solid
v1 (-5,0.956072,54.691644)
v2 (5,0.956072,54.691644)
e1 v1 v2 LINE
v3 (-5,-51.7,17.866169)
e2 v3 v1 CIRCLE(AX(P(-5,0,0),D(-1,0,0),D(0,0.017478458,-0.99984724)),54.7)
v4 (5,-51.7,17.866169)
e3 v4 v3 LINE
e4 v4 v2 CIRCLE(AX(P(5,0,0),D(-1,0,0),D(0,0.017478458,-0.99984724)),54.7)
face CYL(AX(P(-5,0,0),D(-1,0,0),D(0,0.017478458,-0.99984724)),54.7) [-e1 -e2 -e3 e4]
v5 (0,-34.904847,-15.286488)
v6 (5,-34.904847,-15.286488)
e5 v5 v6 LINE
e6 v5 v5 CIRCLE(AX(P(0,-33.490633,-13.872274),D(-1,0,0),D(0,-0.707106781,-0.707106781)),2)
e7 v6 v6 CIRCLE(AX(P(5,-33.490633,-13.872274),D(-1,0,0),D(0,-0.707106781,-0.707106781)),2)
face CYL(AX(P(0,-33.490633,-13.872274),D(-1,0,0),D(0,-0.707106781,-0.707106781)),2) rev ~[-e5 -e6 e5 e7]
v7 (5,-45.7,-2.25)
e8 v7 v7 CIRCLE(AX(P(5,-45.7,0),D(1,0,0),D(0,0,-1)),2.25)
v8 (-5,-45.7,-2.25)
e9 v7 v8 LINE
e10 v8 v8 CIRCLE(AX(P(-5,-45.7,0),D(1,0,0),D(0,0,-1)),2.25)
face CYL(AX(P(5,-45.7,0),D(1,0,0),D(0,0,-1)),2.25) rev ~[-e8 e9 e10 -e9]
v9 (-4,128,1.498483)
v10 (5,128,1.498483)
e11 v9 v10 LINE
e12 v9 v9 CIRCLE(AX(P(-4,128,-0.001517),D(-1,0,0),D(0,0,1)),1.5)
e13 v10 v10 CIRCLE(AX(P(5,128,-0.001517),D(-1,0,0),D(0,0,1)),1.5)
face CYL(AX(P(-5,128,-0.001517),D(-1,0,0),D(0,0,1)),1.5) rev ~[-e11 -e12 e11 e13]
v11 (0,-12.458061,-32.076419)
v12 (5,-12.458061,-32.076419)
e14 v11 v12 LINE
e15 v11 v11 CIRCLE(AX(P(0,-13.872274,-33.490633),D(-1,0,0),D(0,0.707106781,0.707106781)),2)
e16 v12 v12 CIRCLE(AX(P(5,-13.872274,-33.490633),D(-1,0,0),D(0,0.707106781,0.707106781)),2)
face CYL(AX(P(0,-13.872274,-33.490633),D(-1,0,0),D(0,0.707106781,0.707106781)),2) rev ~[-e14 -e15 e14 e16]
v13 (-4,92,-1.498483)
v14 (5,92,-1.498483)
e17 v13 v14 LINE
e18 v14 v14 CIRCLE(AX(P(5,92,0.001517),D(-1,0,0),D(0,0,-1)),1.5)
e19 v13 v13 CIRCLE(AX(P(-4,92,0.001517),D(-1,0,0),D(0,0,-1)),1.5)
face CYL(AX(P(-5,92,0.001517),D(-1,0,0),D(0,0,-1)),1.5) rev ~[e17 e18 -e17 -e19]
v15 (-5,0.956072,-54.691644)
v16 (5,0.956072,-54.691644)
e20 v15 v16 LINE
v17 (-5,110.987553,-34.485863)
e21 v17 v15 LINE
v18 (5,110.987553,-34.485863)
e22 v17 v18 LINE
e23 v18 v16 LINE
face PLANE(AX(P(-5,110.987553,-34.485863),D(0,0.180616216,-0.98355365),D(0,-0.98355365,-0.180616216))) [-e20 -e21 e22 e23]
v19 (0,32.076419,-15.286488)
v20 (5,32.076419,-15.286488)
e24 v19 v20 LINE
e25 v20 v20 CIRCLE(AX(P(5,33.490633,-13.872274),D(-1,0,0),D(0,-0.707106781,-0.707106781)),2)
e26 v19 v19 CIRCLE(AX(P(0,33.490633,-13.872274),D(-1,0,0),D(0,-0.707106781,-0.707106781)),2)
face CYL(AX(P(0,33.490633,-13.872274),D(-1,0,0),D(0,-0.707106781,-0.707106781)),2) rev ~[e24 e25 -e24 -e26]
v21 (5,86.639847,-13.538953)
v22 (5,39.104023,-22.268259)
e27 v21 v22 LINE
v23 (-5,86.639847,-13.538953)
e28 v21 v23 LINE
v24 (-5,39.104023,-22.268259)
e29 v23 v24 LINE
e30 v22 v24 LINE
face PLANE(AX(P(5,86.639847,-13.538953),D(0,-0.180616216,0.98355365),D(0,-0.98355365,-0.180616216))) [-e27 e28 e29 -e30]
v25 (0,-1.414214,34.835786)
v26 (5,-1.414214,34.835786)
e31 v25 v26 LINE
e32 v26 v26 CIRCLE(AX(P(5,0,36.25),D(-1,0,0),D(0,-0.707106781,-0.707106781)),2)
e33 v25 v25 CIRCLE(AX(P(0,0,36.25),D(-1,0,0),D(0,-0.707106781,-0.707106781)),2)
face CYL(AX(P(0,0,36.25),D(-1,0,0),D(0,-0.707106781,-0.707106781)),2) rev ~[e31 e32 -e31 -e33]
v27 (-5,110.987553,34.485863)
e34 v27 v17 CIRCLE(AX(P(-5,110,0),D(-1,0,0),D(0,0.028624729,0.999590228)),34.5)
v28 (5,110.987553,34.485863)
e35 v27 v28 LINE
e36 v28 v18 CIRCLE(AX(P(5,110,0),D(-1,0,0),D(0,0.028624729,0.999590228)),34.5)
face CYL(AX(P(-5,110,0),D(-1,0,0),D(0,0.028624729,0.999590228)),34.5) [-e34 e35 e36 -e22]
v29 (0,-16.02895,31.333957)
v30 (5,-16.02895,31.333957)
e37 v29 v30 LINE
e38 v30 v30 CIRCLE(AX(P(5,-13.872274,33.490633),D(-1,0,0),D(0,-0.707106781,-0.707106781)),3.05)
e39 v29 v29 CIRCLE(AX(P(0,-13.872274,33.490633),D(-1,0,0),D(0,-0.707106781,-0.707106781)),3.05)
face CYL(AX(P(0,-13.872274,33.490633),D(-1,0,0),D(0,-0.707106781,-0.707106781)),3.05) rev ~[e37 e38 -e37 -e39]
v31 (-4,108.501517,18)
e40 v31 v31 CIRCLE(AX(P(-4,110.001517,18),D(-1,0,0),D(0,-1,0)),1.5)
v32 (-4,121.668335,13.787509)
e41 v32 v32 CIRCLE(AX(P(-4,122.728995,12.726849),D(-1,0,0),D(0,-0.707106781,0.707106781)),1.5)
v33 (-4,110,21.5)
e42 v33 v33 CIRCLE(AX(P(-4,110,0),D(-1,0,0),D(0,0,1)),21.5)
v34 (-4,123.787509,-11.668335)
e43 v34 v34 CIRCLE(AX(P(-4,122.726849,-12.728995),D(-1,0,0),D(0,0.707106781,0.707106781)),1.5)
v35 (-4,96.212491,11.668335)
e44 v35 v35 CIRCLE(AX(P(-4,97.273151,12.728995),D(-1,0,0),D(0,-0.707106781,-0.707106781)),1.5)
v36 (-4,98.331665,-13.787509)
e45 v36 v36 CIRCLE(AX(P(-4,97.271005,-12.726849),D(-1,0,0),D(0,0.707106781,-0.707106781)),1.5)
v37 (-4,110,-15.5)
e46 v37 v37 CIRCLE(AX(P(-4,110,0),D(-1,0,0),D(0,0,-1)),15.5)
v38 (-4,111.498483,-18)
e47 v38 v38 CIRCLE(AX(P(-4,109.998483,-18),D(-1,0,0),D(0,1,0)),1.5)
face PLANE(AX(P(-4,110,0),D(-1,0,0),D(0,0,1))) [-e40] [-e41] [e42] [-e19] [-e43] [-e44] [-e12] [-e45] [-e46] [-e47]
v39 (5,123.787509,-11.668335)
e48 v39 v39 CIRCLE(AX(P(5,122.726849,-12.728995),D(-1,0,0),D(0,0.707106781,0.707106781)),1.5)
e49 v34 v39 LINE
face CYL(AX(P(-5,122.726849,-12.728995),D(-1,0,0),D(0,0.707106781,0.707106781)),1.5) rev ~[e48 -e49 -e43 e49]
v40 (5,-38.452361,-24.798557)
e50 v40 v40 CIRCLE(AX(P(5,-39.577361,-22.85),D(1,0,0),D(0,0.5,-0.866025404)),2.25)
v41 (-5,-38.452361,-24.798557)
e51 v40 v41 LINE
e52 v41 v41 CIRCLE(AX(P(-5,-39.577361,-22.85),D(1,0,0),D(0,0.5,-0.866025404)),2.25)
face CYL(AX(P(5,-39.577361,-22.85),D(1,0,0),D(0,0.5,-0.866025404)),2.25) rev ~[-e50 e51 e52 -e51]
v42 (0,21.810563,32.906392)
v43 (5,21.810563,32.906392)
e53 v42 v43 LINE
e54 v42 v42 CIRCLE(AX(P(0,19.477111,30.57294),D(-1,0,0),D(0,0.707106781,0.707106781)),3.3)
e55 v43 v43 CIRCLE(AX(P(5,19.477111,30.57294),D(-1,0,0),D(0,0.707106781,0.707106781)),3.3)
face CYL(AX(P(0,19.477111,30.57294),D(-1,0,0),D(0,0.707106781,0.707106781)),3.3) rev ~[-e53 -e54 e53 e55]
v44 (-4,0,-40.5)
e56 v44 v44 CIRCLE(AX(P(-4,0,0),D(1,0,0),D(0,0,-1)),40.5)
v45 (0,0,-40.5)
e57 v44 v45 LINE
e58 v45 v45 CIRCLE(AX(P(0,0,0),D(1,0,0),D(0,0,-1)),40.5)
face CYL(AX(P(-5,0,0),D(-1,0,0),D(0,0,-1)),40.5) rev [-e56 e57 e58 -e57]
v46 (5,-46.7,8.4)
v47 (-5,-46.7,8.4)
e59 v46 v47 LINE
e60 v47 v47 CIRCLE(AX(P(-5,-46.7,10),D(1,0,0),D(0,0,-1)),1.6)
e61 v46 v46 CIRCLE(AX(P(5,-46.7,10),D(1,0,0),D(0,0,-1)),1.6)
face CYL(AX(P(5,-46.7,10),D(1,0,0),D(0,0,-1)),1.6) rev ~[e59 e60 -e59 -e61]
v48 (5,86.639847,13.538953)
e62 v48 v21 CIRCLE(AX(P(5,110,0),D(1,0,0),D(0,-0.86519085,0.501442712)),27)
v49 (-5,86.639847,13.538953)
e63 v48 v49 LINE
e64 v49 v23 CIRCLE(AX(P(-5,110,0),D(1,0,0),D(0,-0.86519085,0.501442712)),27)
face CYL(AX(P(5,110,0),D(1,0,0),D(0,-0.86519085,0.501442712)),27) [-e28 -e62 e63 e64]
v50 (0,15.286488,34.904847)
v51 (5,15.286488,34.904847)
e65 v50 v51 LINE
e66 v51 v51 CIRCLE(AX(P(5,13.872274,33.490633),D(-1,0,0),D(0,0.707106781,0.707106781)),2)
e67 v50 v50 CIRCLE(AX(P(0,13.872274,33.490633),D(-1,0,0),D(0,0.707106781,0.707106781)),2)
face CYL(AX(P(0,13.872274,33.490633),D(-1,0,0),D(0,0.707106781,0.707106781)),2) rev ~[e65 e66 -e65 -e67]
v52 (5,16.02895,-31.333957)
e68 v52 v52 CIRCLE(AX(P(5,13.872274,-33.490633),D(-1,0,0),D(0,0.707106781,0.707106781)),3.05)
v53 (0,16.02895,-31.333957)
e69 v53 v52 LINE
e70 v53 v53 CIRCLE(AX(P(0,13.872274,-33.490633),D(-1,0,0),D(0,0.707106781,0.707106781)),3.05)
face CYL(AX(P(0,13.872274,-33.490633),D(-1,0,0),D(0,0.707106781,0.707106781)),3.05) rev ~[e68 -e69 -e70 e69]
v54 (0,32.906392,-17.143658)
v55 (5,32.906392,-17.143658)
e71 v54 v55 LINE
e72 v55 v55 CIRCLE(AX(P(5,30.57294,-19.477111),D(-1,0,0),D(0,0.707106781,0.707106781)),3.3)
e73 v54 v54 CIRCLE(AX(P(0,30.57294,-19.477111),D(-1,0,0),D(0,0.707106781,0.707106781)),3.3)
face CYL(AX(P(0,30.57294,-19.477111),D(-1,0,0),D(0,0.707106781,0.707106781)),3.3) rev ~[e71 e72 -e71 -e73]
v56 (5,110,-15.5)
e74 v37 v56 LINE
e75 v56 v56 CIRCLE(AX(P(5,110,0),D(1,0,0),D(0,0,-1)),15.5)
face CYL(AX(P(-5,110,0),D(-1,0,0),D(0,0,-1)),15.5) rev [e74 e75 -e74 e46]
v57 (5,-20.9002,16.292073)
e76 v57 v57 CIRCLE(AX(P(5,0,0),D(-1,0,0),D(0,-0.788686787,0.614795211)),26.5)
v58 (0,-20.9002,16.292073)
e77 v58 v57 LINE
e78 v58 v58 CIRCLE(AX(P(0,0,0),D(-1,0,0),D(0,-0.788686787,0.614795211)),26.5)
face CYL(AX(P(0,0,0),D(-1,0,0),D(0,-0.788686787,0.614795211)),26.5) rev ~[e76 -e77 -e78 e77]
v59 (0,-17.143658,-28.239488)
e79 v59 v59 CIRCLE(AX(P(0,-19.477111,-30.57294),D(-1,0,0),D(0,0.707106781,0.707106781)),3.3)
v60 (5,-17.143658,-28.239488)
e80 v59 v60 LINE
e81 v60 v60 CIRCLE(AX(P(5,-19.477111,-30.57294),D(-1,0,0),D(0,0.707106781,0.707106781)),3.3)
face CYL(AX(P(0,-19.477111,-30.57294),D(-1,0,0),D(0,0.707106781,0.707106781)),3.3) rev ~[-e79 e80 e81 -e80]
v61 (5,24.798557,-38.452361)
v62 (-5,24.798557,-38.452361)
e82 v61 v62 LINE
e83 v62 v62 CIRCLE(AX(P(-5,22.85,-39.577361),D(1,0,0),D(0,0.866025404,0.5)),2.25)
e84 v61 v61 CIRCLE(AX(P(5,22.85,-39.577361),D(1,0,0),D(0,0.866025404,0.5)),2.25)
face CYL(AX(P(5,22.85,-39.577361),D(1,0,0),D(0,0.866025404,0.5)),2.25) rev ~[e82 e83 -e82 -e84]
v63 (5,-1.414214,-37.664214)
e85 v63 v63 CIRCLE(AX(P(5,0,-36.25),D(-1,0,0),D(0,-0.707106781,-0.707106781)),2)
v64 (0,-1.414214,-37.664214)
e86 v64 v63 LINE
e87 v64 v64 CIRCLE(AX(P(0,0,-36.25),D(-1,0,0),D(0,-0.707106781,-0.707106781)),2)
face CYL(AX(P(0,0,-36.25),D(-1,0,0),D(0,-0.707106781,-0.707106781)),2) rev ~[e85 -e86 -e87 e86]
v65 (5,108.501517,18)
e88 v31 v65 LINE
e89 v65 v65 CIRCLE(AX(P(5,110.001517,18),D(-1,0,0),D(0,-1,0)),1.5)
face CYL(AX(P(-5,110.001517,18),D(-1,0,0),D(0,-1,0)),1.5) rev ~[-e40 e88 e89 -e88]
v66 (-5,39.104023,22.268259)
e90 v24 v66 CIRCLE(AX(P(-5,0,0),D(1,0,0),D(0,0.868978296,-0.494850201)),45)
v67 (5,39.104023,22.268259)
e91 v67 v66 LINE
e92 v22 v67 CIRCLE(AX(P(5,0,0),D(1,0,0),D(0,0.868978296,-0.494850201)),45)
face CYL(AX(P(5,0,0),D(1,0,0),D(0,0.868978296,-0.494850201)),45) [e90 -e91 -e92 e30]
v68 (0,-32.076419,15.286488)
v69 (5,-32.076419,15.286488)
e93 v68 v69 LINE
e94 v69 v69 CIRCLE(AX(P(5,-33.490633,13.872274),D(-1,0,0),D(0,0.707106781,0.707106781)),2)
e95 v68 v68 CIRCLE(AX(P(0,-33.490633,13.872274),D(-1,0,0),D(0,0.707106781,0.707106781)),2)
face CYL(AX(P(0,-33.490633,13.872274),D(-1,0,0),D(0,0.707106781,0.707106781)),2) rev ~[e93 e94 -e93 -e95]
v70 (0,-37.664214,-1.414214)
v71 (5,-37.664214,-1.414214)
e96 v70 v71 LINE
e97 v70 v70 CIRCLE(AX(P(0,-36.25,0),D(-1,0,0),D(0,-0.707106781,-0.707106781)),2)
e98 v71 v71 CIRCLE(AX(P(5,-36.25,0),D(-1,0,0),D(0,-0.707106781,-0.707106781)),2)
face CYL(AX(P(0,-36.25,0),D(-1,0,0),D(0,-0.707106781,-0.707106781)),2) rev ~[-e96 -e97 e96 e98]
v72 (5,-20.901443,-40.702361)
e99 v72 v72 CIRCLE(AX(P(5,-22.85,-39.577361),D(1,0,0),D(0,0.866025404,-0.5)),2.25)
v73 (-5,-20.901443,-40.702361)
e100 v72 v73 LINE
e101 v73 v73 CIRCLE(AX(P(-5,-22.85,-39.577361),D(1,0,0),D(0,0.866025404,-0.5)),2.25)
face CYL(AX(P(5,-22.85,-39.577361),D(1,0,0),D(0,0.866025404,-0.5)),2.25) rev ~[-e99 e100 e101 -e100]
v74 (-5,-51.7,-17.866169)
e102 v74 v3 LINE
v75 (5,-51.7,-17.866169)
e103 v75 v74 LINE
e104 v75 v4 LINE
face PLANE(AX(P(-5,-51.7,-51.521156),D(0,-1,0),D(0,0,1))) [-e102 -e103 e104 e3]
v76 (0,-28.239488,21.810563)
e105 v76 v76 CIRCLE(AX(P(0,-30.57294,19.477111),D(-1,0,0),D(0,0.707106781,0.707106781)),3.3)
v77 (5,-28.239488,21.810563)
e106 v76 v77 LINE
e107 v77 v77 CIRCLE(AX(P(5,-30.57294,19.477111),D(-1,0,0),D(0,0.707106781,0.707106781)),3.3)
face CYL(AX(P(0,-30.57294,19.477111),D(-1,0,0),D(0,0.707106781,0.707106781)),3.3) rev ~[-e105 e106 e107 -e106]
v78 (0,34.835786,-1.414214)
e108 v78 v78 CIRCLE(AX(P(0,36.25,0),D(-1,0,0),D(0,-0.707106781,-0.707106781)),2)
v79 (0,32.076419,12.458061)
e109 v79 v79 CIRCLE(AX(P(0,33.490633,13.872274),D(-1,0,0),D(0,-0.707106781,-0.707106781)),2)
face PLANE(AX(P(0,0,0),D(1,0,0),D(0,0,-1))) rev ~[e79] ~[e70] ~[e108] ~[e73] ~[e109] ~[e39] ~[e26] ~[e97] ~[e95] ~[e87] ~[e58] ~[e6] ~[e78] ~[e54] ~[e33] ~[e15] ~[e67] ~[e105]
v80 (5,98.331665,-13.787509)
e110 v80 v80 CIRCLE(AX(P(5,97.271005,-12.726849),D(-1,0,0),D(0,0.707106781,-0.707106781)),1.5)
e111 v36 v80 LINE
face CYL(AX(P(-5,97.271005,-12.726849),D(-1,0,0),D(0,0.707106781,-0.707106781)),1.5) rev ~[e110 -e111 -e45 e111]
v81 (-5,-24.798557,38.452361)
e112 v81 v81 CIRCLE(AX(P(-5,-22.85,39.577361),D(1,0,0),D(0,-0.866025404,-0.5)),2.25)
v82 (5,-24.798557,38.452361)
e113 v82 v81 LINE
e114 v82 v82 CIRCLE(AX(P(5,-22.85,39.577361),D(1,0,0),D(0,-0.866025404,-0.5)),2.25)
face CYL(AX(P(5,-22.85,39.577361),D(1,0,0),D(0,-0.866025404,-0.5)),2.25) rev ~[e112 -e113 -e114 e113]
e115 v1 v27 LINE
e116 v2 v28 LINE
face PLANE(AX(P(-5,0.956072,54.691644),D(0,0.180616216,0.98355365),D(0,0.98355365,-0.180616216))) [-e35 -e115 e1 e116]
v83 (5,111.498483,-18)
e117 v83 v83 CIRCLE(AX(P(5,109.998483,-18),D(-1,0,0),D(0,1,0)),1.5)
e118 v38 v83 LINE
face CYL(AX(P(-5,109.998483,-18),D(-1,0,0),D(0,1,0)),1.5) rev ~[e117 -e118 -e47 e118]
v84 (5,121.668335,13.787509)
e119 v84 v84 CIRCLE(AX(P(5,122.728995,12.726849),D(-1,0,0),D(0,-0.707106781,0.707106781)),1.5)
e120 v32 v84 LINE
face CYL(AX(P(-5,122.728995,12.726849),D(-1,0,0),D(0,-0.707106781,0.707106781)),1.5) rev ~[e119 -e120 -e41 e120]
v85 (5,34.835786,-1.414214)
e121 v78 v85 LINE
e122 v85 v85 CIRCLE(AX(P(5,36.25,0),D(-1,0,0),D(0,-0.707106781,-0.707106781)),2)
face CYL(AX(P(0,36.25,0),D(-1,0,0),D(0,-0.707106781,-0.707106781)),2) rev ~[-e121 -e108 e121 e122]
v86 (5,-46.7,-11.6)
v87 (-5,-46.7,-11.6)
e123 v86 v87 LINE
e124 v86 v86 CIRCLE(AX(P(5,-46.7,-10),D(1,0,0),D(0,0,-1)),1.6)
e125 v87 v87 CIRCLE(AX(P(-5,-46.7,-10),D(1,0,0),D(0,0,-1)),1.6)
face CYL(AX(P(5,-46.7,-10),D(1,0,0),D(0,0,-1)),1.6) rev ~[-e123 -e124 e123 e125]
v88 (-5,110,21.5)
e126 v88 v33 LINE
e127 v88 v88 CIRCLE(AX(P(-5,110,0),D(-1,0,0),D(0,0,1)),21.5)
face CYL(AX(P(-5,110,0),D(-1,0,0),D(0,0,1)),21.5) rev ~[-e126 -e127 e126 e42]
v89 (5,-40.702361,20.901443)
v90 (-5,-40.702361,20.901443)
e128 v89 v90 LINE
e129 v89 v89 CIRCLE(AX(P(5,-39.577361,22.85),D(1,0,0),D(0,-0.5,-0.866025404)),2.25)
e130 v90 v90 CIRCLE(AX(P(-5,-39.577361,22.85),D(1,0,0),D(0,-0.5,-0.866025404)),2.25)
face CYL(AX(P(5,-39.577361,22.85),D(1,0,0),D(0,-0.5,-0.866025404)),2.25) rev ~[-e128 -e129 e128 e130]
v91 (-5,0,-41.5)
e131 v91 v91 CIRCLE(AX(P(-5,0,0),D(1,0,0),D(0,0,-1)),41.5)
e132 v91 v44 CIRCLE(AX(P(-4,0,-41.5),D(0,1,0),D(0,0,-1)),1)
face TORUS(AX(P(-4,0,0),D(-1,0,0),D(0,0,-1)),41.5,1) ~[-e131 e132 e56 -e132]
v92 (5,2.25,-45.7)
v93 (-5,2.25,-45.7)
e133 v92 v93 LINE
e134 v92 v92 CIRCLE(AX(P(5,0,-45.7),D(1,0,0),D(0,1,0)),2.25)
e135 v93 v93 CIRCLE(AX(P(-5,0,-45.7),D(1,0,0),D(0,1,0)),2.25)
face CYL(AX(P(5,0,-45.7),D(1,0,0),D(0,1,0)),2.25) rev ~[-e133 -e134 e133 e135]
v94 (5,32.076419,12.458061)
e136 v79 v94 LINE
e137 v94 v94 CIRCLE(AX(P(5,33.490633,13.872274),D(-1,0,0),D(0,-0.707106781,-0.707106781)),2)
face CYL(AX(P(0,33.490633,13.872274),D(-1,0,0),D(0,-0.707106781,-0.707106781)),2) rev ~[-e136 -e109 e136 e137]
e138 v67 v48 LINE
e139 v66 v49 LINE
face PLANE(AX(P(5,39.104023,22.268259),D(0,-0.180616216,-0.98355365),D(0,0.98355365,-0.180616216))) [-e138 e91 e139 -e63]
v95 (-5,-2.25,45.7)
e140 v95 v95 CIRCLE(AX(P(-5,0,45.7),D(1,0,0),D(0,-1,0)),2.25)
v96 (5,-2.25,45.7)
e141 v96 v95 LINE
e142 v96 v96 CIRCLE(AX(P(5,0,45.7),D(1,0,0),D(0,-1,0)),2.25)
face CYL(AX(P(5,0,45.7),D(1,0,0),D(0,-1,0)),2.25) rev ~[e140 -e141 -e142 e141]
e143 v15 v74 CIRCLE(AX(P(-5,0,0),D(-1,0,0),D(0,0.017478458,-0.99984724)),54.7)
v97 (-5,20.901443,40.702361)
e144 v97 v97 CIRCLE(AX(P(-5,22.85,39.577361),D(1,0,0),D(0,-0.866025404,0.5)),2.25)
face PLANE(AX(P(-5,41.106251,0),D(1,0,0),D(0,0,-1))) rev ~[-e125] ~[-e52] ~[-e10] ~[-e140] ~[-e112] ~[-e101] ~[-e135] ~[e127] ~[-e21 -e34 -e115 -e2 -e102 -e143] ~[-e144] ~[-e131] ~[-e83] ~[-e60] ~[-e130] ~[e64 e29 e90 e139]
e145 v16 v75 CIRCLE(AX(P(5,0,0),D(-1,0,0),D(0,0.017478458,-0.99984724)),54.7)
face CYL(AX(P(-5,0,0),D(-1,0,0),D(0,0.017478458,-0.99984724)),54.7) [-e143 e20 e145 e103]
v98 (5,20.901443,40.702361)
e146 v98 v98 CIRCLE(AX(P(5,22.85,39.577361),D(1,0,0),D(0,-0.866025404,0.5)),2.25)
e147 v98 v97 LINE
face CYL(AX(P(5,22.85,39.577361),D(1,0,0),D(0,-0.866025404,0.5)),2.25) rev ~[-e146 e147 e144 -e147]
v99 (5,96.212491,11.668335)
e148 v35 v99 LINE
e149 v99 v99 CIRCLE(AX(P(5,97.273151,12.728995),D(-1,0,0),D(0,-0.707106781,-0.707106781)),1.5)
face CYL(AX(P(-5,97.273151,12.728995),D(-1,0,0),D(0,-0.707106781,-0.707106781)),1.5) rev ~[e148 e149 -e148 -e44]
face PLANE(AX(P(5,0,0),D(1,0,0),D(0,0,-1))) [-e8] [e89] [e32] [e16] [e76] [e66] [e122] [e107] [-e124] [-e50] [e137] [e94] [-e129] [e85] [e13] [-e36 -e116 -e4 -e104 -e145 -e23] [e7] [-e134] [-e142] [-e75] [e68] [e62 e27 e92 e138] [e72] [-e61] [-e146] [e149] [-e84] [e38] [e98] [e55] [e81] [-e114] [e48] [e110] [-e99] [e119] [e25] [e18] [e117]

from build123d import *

# Parameters (mm, degrees)
SKETCH2_R                       = 40.5
SKETCH2_R_2                     = 15.5
BOSS_EXTRUDE1_DEPTH             = 5
BOSS_EXTRUDE2_START             = -5
SKETCH2_5_R                     = 40.5
SKETCH2_5_R_2                   = 15.5
BOSS_EXTRUDE2_DEPTH             = 5
FILLET3_R                       = 1
SKETCH12_R                      = 1.5
CUT_EXTRUDE12_DEPTH             = 191.422110061
CIRPATTERN1_COUNT               = 8
SKETCH13_R                      = 21.5
CUT_EXTRUDE13_DEPTH             = 1
CUT_EXTRUDE16_DEPTH             = 10
SKETCH16_W                      = 105.253324721
SKETCH16_H                      = 10.065806818
CUT_EXTRUDE17_DEPTH             = 10
CUT_EXTRUDE20_DEPTH             = 155.830035846
SKETCH29_R                      = 1.6
CUT_EXTRUDE21_DEPTH             = 10
SKETCH31_R                      = 2.25
CUT_EXTRUDE22_DEPTH             = 10
CIRPATTERN2_COUNT               = 5
CIRPATTERN2_ANGLE               = 120
CIRPATTERN2_THE_OTHER_WAY_COUNT = 5
CIRPATTERN2_THE_OTHER_WAY_ANGLE = 120


with BuildPart() as part:
    # Sketch2 → Boss-Extrude1 (new body)
    # profile 1 of 2: a face of its own
    with BuildSketch(Plane(origin=(0, 0, 0), x_dir=(0, 0, -1), z_dir=(1, 0, 0))):
        with BuildLine():
            Line((-67.7, 110), (-67.7, 0))
            Line((-67.7, 0), (-67.7, -68))
            Line((-67.7, -68), (67.7, -68))
            Line((67.7, -68), (67.7, 10))
            Line((67.7, 10), (67.7, 110))
            ThreePointArc((67.7, 110), (0, 177.7), (-67.7, 110))
        make_face()
        Circle(SKETCH2_R, mode=Mode.SUBTRACT)
        with Locations((0, 110)):
            Circle(SKETCH2_R_2, mode=Mode.SUBTRACT)
    # profile 2 of 2: a face of its own
    with BuildSketch(Plane(origin=(0, 0, 0), x_dir=(0, 0, -1), z_dir=(1, 0, 0))):
        Circle(SKETCH2_R)
        with BuildLine():
            ThreePointArc((-17.143658425, -32.906392289), (-21.81056318, -32.906392289), (-21.81056318, -28.239487533))
            ThreePointArc((-21.81056318, -28.239487533), (-17.143658425, -28.239487533), (-17.143658425, -32.906392289))
        make_face(mode=Mode.SUBTRACT)
        with BuildLine():
            ThreePointArc((-35.647308736, -11.715598741), (-31.333957371, -11.715598741), (-31.333957371, -16.028950106))
            ThreePointArc((-31.333957371, -16.028950106), (-35.647308736, -16.028950106), (-35.647308736, -11.715598741))
        make_face(mode=Mode.SUBTRACT)
        with BuildLine():
            ThreePointArc((-12.458060861, -34.904846616), (-15.286487986, -34.904846616), (-15.286487986, -32.076419491))
            ThreePointArc((-15.286487986, -32.076419491), (-12.458060861, -32.076419491), (-12.458060861, -34.904846616))
        make_face(mode=Mode.SUBTRACT)
        with BuildLine():
            ThreePointArc((-37.664213562, 1.414213562), (-34.835786438, 1.414213562), (-34.835786438, -1.414213562))
            ThreePointArc((-34.835786438, -1.414213562), (-37.664213562, -1.414213562), (-37.664213562, 1.414213562))
        make_face(mode=Mode.SUBTRACT)
        with BuildLine():
            ThreePointArc((-32.076419491, 12.458060861), (-34.904846616, 12.458060861), (-34.904846616, 15.286487986))
            ThreePointArc((-34.904846616, 15.286487986), (-32.076419491, 15.286487986), (-32.076419491, 12.458060861))
        make_face(mode=Mode.SUBTRACT)
        with BuildLine():
            ThreePointArc((-28.239487533, 17.143658425), (-32.906392289, 17.143658425), (-32.906392289, 21.81056318))
            ThreePointArc((-32.906392289, 21.81056318), (-28.239487533, 21.81056318), (-28.239487533, 17.143658425))
        make_face(mode=Mode.SUBTRACT)
        with BuildLine():
            ThreePointArc((-15.286487986, 34.904846616), (-12.458060861, 34.904846616), (-12.458060861, 32.076419491))
            ThreePointArc((-12.458060861, 32.076419491), (-15.286487986, 32.076419491), (-15.286487986, 34.904846616))
        make_face(mode=Mode.SUBTRACT)
        with BuildLine():
            ThreePointArc((-1.414213562, 37.664213562), (1.414213562, 37.664213562), (1.414213562, 34.835786438))
            ThreePointArc((1.414213562, 34.835786438), (-1.414213562, 34.835786438), (-1.414213562, 37.664213562))
        make_face(mode=Mode.SUBTRACT)
        with BuildLine():
            ThreePointArc((-1.414213562, -34.835786438), (1.414213562, -34.835786438), (1.414213562, -37.664213562))
            ThreePointArc((1.414213562, -37.664213562), (-1.414213562, -37.664213562), (-1.414213562, -34.835786438))
        make_face(mode=Mode.SUBTRACT)
        with BuildLine():
            ThreePointArc((12.458060861, -32.076419491), (15.286487986, -32.076419491), (15.286487986, -34.904846616))
            ThreePointArc((15.286487986, -34.904846616), (12.458060861, -34.904846616), (12.458060861, -32.076419491))
        make_face(mode=Mode.SUBTRACT)
        with BuildLine():
            ThreePointArc((32.906392289, -21.81056318), (28.239487533, -21.81056318), (28.239487533, -17.143658425))
            ThreePointArc((28.239487533, -17.143658425), (32.906392289, -17.143658425), (32.906392289, -21.81056318))
        make_face(mode=Mode.SUBTRACT)
        with BuildLine():
            ThreePointArc((34.904846616, -15.286487986), (32.076419491, -15.286487986), (32.076419491, -12.458060861))
            ThreePointArc((32.076419491, -12.458060861), (34.904846616, -12.458060861), (34.904846616, -15.286487986))
        make_face(mode=Mode.SUBTRACT)
        with BuildLine():
            ThreePointArc((16.292073099, 20.900199859), (20.900199859, -16.292073099), (-16.292073099, -20.900199859))
            ThreePointArc((-16.292073099, -20.900199859), (-20.900199859, 16.292073099), (16.292073099, 20.900199859))
        make_face(mode=Mode.SUBTRACT)
        with BuildLine():
            ThreePointArc((35.647308736, 11.715598741), (31.333957371, 11.715598741), (31.333957371, 16.028950106))
            ThreePointArc((31.333957371, 16.028950106), (35.647308736, 16.028950106), (35.647308736, 11.715598741))
        make_face(mode=Mode.SUBTRACT)
        with BuildLine():
            ThreePointArc((12.458060861, 34.904846616), (15.286487986, 34.904846616), (15.286487986, 32.076419491))
            ThreePointArc((15.286487986, 32.076419491), (12.458060861, 32.076419491), (12.458060861, 34.904846616))
        make_face(mode=Mode.SUBTRACT)
        with BuildLine():
            ThreePointArc((21.81056318, 28.239487533), (17.143658425, 28.239487533), (17.143658425, 32.906392289))
            ThreePointArc((17.143658425, 32.906392289), (21.81056318, 32.906392289), (21.81056318, 28.239487533))
        make_face(mode=Mode.SUBTRACT)
        with BuildLine():
            ThreePointArc((34.835786438, 1.414213562), (37.664213562, 1.414213562), (37.664213562, -1.414213562))
            ThreePointArc((37.664213562, -1.414213562), (34.835786438, -1.414213562), (34.835786438, 1.414213562))
        make_face(mode=Mode.SUBTRACT)
    extrude(amount=BOSS_EXTRUDE1_DEPTH)

    # Sketch2<5> → Boss-Extrude2 (add)
    with BuildSketch(Plane(origin=(0, 0, 0), x_dir=(0, 0, -1), z_dir=(1, 0, 0)).offset(BOSS_EXTRUDE2_START)):
        with BuildLine():
            Line((-67.7, 110), (-67.7, 0))
            Line((-67.7, 0), (-67.7, -68))
            Line((-67.7, -68), (67.7, -68))
            Line((67.7, -68), (67.7, 10))
            Line((67.7, 10), (67.7, 110))
            ThreePointArc((67.7, 110), (0, 177.7), (-67.7, 110))
        make_face()
        Circle(SKETCH2_5_R, mode=Mode.SUBTRACT)
        with Locations((0, 110)):
            Circle(SKETCH2_5_R_2, mode=Mode.SUBTRACT)
    extrude(amount=BOSS_EXTRUDE2_DEPTH)

    # Fillet3
    fillet3_edges = [part.edges().sort_by_distance(p)[0] for p in [
        (-5, 0, 40.5),
    ]]
    fillet(fillet3_edges, radius=FILLET3_R)

    # Sketch12 → Cut-Extrude12 (cut, through all)
    with BuildSketch(Plane.ZY.offset(5)):
        with Locations((-0.00151734, 127.999999936)):
            Circle(SKETCH12_R)
    cut_extrude12 = extrude(amount=-CUT_EXTRUDE12_DEPTH, mode=Mode.SUBTRACT)

    # CirPattern1: Cut-Extrude12 ×8 about axis
    cirpattern1_axis = Axis((0, 110, 0), (1, 0, 0))
    for i in range(1, CIRPATTERN1_COUNT):
        add(cut_extrude12.rotate(cirpattern1_axis, i * 360 / CIRPATTERN1_COUNT), mode=Mode.SUBTRACT)

    # Sketch13 → Cut-Extrude13 (cut)
    with BuildSketch(Plane.ZY.offset(5)):
        with Locations((0, 110)):
            Circle(SKETCH13_R)
    extrude(amount=-CUT_EXTRUDE13_DEPTH, mode=Mode.SUBTRACT)

    # Sketch15 → Cut-Extrude16 (cut)
    with BuildSketch(Plane.ZY.offset(5)):
        with BuildLine():
            ThreePointArc((67.7, 110), (0, 177.7), (-67.7, 110))
            Line((-67.7, 110), (-67.7, -68))
            Line((-67.7, -68), (67.7, -68))
            Line((67.7, -68), (67.7, 110))
        make_face()
        with BuildLine():
            ThreePointArc((-54.691644033, 0.956071637), (0, -54.7), (54.691644033, 0.956071637))
            Line((54.691644033, 0.956071637), (34.485862883, 110.987553146))
            ThreePointArc((34.485862883, 110.987553146), (0, 144.5), (-34.485862883, 110.987553146))
            Line((-34.485862883, 110.987553146), (-54.691644033, 0.956071637))
        make_face(mode=Mode.SUBTRACT)
    extrude(amount=-CUT_EXTRUDE16_DEPTH, mode=Mode.SUBTRACT)

    # Sketch16 → Cut-Extrude17 (cut)
    with BuildSketch(Plane.ZY.offset(5)):
        with Locations((1.105505895, -56.732903409)):
            Rectangle(SKETCH16_W, SKETCH16_H)
    extrude(amount=-CUT_EXTRUDE17_DEPTH, mode=Mode.SUBTRACT)

    # Sketch19 → Cut-Extrude20 (cut, through all)
    with BuildSketch(Plane(origin=(5, 0, 0), x_dir=(0, 0, -1), z_dir=(1, 0, 0))):
        with BuildLine():
            ThreePointArc((22.268259026, 39.104023322), (0, 45), (-22.268259026, 39.104023322))
            Line((-22.268259026, 39.104023322), (-13.538953214, 86.63984705))
            ThreePointArc((-13.538953214, 86.63984705), (0, 83), (13.538953214, 86.63984705))
            Line((13.538953214, 86.63984705), (22.268259026, 39.104023322))
        make_face()
    extrude(amount=-CUT_EXTRUDE20_DEPTH, mode=Mode.SUBTRACT)

    # Sketch29 → Cut-Extrude21 (cut)
    with BuildSketch(Plane(origin=(5, 0, 0), x_dir=(0, 0, -1), z_dir=(1, 0, 0))):
        with Locations((-10, -46.7)):
            Circle(SKETCH29_R)
        with Locations((10, -46.7)):
            Circle(SKETCH29_R)
    extrude(amount=-CUT_EXTRUDE21_DEPTH, mode=Mode.SUBTRACT)

    # Sketch31 → Cut-Extrude22 (cut)
    with BuildSketch(Plane(origin=(5, 0, 0), x_dir=(0, 0, -1), z_dir=(1, 0, 0))):
        with Locations((0, -45.7)):
            Circle(SKETCH31_R)
    cut_extrude22 = extrude(amount=-CUT_EXTRUDE22_DEPTH, mode=Mode.SUBTRACT)

    # CirPattern2: Cut-Extrude22 ×5 about axis
    cirpattern2_axis = Axis((0, 0, 0), (-1, 0, 0))
    for i in range(1, CIRPATTERN2_COUNT):
        add(cut_extrude22.rotate(cirpattern2_axis, i * CIRPATTERN2_ANGLE / (CIRPATTERN2_COUNT - 1)), mode=Mode.SUBTRACT)

    # CirPattern2 the other way: Cut-Extrude22 ×5 about axis
    cirpattern2_the_other_way_axis = Axis((0, 0, 0), (1, 0, 0))
    for i in range(1, CIRPATTERN2_THE_OTHER_WAY_COUNT):
        add(cut_extrude22.rotate(cirpattern2_the_other_way_axis, i * CIRPATTERN2_THE_OTHER_WAY_ANGLE / (CIRPATTERN2_THE_OTHER_WAY_COUNT - 1)), mode=Mode.SUBTRACT)


solid = part.part
